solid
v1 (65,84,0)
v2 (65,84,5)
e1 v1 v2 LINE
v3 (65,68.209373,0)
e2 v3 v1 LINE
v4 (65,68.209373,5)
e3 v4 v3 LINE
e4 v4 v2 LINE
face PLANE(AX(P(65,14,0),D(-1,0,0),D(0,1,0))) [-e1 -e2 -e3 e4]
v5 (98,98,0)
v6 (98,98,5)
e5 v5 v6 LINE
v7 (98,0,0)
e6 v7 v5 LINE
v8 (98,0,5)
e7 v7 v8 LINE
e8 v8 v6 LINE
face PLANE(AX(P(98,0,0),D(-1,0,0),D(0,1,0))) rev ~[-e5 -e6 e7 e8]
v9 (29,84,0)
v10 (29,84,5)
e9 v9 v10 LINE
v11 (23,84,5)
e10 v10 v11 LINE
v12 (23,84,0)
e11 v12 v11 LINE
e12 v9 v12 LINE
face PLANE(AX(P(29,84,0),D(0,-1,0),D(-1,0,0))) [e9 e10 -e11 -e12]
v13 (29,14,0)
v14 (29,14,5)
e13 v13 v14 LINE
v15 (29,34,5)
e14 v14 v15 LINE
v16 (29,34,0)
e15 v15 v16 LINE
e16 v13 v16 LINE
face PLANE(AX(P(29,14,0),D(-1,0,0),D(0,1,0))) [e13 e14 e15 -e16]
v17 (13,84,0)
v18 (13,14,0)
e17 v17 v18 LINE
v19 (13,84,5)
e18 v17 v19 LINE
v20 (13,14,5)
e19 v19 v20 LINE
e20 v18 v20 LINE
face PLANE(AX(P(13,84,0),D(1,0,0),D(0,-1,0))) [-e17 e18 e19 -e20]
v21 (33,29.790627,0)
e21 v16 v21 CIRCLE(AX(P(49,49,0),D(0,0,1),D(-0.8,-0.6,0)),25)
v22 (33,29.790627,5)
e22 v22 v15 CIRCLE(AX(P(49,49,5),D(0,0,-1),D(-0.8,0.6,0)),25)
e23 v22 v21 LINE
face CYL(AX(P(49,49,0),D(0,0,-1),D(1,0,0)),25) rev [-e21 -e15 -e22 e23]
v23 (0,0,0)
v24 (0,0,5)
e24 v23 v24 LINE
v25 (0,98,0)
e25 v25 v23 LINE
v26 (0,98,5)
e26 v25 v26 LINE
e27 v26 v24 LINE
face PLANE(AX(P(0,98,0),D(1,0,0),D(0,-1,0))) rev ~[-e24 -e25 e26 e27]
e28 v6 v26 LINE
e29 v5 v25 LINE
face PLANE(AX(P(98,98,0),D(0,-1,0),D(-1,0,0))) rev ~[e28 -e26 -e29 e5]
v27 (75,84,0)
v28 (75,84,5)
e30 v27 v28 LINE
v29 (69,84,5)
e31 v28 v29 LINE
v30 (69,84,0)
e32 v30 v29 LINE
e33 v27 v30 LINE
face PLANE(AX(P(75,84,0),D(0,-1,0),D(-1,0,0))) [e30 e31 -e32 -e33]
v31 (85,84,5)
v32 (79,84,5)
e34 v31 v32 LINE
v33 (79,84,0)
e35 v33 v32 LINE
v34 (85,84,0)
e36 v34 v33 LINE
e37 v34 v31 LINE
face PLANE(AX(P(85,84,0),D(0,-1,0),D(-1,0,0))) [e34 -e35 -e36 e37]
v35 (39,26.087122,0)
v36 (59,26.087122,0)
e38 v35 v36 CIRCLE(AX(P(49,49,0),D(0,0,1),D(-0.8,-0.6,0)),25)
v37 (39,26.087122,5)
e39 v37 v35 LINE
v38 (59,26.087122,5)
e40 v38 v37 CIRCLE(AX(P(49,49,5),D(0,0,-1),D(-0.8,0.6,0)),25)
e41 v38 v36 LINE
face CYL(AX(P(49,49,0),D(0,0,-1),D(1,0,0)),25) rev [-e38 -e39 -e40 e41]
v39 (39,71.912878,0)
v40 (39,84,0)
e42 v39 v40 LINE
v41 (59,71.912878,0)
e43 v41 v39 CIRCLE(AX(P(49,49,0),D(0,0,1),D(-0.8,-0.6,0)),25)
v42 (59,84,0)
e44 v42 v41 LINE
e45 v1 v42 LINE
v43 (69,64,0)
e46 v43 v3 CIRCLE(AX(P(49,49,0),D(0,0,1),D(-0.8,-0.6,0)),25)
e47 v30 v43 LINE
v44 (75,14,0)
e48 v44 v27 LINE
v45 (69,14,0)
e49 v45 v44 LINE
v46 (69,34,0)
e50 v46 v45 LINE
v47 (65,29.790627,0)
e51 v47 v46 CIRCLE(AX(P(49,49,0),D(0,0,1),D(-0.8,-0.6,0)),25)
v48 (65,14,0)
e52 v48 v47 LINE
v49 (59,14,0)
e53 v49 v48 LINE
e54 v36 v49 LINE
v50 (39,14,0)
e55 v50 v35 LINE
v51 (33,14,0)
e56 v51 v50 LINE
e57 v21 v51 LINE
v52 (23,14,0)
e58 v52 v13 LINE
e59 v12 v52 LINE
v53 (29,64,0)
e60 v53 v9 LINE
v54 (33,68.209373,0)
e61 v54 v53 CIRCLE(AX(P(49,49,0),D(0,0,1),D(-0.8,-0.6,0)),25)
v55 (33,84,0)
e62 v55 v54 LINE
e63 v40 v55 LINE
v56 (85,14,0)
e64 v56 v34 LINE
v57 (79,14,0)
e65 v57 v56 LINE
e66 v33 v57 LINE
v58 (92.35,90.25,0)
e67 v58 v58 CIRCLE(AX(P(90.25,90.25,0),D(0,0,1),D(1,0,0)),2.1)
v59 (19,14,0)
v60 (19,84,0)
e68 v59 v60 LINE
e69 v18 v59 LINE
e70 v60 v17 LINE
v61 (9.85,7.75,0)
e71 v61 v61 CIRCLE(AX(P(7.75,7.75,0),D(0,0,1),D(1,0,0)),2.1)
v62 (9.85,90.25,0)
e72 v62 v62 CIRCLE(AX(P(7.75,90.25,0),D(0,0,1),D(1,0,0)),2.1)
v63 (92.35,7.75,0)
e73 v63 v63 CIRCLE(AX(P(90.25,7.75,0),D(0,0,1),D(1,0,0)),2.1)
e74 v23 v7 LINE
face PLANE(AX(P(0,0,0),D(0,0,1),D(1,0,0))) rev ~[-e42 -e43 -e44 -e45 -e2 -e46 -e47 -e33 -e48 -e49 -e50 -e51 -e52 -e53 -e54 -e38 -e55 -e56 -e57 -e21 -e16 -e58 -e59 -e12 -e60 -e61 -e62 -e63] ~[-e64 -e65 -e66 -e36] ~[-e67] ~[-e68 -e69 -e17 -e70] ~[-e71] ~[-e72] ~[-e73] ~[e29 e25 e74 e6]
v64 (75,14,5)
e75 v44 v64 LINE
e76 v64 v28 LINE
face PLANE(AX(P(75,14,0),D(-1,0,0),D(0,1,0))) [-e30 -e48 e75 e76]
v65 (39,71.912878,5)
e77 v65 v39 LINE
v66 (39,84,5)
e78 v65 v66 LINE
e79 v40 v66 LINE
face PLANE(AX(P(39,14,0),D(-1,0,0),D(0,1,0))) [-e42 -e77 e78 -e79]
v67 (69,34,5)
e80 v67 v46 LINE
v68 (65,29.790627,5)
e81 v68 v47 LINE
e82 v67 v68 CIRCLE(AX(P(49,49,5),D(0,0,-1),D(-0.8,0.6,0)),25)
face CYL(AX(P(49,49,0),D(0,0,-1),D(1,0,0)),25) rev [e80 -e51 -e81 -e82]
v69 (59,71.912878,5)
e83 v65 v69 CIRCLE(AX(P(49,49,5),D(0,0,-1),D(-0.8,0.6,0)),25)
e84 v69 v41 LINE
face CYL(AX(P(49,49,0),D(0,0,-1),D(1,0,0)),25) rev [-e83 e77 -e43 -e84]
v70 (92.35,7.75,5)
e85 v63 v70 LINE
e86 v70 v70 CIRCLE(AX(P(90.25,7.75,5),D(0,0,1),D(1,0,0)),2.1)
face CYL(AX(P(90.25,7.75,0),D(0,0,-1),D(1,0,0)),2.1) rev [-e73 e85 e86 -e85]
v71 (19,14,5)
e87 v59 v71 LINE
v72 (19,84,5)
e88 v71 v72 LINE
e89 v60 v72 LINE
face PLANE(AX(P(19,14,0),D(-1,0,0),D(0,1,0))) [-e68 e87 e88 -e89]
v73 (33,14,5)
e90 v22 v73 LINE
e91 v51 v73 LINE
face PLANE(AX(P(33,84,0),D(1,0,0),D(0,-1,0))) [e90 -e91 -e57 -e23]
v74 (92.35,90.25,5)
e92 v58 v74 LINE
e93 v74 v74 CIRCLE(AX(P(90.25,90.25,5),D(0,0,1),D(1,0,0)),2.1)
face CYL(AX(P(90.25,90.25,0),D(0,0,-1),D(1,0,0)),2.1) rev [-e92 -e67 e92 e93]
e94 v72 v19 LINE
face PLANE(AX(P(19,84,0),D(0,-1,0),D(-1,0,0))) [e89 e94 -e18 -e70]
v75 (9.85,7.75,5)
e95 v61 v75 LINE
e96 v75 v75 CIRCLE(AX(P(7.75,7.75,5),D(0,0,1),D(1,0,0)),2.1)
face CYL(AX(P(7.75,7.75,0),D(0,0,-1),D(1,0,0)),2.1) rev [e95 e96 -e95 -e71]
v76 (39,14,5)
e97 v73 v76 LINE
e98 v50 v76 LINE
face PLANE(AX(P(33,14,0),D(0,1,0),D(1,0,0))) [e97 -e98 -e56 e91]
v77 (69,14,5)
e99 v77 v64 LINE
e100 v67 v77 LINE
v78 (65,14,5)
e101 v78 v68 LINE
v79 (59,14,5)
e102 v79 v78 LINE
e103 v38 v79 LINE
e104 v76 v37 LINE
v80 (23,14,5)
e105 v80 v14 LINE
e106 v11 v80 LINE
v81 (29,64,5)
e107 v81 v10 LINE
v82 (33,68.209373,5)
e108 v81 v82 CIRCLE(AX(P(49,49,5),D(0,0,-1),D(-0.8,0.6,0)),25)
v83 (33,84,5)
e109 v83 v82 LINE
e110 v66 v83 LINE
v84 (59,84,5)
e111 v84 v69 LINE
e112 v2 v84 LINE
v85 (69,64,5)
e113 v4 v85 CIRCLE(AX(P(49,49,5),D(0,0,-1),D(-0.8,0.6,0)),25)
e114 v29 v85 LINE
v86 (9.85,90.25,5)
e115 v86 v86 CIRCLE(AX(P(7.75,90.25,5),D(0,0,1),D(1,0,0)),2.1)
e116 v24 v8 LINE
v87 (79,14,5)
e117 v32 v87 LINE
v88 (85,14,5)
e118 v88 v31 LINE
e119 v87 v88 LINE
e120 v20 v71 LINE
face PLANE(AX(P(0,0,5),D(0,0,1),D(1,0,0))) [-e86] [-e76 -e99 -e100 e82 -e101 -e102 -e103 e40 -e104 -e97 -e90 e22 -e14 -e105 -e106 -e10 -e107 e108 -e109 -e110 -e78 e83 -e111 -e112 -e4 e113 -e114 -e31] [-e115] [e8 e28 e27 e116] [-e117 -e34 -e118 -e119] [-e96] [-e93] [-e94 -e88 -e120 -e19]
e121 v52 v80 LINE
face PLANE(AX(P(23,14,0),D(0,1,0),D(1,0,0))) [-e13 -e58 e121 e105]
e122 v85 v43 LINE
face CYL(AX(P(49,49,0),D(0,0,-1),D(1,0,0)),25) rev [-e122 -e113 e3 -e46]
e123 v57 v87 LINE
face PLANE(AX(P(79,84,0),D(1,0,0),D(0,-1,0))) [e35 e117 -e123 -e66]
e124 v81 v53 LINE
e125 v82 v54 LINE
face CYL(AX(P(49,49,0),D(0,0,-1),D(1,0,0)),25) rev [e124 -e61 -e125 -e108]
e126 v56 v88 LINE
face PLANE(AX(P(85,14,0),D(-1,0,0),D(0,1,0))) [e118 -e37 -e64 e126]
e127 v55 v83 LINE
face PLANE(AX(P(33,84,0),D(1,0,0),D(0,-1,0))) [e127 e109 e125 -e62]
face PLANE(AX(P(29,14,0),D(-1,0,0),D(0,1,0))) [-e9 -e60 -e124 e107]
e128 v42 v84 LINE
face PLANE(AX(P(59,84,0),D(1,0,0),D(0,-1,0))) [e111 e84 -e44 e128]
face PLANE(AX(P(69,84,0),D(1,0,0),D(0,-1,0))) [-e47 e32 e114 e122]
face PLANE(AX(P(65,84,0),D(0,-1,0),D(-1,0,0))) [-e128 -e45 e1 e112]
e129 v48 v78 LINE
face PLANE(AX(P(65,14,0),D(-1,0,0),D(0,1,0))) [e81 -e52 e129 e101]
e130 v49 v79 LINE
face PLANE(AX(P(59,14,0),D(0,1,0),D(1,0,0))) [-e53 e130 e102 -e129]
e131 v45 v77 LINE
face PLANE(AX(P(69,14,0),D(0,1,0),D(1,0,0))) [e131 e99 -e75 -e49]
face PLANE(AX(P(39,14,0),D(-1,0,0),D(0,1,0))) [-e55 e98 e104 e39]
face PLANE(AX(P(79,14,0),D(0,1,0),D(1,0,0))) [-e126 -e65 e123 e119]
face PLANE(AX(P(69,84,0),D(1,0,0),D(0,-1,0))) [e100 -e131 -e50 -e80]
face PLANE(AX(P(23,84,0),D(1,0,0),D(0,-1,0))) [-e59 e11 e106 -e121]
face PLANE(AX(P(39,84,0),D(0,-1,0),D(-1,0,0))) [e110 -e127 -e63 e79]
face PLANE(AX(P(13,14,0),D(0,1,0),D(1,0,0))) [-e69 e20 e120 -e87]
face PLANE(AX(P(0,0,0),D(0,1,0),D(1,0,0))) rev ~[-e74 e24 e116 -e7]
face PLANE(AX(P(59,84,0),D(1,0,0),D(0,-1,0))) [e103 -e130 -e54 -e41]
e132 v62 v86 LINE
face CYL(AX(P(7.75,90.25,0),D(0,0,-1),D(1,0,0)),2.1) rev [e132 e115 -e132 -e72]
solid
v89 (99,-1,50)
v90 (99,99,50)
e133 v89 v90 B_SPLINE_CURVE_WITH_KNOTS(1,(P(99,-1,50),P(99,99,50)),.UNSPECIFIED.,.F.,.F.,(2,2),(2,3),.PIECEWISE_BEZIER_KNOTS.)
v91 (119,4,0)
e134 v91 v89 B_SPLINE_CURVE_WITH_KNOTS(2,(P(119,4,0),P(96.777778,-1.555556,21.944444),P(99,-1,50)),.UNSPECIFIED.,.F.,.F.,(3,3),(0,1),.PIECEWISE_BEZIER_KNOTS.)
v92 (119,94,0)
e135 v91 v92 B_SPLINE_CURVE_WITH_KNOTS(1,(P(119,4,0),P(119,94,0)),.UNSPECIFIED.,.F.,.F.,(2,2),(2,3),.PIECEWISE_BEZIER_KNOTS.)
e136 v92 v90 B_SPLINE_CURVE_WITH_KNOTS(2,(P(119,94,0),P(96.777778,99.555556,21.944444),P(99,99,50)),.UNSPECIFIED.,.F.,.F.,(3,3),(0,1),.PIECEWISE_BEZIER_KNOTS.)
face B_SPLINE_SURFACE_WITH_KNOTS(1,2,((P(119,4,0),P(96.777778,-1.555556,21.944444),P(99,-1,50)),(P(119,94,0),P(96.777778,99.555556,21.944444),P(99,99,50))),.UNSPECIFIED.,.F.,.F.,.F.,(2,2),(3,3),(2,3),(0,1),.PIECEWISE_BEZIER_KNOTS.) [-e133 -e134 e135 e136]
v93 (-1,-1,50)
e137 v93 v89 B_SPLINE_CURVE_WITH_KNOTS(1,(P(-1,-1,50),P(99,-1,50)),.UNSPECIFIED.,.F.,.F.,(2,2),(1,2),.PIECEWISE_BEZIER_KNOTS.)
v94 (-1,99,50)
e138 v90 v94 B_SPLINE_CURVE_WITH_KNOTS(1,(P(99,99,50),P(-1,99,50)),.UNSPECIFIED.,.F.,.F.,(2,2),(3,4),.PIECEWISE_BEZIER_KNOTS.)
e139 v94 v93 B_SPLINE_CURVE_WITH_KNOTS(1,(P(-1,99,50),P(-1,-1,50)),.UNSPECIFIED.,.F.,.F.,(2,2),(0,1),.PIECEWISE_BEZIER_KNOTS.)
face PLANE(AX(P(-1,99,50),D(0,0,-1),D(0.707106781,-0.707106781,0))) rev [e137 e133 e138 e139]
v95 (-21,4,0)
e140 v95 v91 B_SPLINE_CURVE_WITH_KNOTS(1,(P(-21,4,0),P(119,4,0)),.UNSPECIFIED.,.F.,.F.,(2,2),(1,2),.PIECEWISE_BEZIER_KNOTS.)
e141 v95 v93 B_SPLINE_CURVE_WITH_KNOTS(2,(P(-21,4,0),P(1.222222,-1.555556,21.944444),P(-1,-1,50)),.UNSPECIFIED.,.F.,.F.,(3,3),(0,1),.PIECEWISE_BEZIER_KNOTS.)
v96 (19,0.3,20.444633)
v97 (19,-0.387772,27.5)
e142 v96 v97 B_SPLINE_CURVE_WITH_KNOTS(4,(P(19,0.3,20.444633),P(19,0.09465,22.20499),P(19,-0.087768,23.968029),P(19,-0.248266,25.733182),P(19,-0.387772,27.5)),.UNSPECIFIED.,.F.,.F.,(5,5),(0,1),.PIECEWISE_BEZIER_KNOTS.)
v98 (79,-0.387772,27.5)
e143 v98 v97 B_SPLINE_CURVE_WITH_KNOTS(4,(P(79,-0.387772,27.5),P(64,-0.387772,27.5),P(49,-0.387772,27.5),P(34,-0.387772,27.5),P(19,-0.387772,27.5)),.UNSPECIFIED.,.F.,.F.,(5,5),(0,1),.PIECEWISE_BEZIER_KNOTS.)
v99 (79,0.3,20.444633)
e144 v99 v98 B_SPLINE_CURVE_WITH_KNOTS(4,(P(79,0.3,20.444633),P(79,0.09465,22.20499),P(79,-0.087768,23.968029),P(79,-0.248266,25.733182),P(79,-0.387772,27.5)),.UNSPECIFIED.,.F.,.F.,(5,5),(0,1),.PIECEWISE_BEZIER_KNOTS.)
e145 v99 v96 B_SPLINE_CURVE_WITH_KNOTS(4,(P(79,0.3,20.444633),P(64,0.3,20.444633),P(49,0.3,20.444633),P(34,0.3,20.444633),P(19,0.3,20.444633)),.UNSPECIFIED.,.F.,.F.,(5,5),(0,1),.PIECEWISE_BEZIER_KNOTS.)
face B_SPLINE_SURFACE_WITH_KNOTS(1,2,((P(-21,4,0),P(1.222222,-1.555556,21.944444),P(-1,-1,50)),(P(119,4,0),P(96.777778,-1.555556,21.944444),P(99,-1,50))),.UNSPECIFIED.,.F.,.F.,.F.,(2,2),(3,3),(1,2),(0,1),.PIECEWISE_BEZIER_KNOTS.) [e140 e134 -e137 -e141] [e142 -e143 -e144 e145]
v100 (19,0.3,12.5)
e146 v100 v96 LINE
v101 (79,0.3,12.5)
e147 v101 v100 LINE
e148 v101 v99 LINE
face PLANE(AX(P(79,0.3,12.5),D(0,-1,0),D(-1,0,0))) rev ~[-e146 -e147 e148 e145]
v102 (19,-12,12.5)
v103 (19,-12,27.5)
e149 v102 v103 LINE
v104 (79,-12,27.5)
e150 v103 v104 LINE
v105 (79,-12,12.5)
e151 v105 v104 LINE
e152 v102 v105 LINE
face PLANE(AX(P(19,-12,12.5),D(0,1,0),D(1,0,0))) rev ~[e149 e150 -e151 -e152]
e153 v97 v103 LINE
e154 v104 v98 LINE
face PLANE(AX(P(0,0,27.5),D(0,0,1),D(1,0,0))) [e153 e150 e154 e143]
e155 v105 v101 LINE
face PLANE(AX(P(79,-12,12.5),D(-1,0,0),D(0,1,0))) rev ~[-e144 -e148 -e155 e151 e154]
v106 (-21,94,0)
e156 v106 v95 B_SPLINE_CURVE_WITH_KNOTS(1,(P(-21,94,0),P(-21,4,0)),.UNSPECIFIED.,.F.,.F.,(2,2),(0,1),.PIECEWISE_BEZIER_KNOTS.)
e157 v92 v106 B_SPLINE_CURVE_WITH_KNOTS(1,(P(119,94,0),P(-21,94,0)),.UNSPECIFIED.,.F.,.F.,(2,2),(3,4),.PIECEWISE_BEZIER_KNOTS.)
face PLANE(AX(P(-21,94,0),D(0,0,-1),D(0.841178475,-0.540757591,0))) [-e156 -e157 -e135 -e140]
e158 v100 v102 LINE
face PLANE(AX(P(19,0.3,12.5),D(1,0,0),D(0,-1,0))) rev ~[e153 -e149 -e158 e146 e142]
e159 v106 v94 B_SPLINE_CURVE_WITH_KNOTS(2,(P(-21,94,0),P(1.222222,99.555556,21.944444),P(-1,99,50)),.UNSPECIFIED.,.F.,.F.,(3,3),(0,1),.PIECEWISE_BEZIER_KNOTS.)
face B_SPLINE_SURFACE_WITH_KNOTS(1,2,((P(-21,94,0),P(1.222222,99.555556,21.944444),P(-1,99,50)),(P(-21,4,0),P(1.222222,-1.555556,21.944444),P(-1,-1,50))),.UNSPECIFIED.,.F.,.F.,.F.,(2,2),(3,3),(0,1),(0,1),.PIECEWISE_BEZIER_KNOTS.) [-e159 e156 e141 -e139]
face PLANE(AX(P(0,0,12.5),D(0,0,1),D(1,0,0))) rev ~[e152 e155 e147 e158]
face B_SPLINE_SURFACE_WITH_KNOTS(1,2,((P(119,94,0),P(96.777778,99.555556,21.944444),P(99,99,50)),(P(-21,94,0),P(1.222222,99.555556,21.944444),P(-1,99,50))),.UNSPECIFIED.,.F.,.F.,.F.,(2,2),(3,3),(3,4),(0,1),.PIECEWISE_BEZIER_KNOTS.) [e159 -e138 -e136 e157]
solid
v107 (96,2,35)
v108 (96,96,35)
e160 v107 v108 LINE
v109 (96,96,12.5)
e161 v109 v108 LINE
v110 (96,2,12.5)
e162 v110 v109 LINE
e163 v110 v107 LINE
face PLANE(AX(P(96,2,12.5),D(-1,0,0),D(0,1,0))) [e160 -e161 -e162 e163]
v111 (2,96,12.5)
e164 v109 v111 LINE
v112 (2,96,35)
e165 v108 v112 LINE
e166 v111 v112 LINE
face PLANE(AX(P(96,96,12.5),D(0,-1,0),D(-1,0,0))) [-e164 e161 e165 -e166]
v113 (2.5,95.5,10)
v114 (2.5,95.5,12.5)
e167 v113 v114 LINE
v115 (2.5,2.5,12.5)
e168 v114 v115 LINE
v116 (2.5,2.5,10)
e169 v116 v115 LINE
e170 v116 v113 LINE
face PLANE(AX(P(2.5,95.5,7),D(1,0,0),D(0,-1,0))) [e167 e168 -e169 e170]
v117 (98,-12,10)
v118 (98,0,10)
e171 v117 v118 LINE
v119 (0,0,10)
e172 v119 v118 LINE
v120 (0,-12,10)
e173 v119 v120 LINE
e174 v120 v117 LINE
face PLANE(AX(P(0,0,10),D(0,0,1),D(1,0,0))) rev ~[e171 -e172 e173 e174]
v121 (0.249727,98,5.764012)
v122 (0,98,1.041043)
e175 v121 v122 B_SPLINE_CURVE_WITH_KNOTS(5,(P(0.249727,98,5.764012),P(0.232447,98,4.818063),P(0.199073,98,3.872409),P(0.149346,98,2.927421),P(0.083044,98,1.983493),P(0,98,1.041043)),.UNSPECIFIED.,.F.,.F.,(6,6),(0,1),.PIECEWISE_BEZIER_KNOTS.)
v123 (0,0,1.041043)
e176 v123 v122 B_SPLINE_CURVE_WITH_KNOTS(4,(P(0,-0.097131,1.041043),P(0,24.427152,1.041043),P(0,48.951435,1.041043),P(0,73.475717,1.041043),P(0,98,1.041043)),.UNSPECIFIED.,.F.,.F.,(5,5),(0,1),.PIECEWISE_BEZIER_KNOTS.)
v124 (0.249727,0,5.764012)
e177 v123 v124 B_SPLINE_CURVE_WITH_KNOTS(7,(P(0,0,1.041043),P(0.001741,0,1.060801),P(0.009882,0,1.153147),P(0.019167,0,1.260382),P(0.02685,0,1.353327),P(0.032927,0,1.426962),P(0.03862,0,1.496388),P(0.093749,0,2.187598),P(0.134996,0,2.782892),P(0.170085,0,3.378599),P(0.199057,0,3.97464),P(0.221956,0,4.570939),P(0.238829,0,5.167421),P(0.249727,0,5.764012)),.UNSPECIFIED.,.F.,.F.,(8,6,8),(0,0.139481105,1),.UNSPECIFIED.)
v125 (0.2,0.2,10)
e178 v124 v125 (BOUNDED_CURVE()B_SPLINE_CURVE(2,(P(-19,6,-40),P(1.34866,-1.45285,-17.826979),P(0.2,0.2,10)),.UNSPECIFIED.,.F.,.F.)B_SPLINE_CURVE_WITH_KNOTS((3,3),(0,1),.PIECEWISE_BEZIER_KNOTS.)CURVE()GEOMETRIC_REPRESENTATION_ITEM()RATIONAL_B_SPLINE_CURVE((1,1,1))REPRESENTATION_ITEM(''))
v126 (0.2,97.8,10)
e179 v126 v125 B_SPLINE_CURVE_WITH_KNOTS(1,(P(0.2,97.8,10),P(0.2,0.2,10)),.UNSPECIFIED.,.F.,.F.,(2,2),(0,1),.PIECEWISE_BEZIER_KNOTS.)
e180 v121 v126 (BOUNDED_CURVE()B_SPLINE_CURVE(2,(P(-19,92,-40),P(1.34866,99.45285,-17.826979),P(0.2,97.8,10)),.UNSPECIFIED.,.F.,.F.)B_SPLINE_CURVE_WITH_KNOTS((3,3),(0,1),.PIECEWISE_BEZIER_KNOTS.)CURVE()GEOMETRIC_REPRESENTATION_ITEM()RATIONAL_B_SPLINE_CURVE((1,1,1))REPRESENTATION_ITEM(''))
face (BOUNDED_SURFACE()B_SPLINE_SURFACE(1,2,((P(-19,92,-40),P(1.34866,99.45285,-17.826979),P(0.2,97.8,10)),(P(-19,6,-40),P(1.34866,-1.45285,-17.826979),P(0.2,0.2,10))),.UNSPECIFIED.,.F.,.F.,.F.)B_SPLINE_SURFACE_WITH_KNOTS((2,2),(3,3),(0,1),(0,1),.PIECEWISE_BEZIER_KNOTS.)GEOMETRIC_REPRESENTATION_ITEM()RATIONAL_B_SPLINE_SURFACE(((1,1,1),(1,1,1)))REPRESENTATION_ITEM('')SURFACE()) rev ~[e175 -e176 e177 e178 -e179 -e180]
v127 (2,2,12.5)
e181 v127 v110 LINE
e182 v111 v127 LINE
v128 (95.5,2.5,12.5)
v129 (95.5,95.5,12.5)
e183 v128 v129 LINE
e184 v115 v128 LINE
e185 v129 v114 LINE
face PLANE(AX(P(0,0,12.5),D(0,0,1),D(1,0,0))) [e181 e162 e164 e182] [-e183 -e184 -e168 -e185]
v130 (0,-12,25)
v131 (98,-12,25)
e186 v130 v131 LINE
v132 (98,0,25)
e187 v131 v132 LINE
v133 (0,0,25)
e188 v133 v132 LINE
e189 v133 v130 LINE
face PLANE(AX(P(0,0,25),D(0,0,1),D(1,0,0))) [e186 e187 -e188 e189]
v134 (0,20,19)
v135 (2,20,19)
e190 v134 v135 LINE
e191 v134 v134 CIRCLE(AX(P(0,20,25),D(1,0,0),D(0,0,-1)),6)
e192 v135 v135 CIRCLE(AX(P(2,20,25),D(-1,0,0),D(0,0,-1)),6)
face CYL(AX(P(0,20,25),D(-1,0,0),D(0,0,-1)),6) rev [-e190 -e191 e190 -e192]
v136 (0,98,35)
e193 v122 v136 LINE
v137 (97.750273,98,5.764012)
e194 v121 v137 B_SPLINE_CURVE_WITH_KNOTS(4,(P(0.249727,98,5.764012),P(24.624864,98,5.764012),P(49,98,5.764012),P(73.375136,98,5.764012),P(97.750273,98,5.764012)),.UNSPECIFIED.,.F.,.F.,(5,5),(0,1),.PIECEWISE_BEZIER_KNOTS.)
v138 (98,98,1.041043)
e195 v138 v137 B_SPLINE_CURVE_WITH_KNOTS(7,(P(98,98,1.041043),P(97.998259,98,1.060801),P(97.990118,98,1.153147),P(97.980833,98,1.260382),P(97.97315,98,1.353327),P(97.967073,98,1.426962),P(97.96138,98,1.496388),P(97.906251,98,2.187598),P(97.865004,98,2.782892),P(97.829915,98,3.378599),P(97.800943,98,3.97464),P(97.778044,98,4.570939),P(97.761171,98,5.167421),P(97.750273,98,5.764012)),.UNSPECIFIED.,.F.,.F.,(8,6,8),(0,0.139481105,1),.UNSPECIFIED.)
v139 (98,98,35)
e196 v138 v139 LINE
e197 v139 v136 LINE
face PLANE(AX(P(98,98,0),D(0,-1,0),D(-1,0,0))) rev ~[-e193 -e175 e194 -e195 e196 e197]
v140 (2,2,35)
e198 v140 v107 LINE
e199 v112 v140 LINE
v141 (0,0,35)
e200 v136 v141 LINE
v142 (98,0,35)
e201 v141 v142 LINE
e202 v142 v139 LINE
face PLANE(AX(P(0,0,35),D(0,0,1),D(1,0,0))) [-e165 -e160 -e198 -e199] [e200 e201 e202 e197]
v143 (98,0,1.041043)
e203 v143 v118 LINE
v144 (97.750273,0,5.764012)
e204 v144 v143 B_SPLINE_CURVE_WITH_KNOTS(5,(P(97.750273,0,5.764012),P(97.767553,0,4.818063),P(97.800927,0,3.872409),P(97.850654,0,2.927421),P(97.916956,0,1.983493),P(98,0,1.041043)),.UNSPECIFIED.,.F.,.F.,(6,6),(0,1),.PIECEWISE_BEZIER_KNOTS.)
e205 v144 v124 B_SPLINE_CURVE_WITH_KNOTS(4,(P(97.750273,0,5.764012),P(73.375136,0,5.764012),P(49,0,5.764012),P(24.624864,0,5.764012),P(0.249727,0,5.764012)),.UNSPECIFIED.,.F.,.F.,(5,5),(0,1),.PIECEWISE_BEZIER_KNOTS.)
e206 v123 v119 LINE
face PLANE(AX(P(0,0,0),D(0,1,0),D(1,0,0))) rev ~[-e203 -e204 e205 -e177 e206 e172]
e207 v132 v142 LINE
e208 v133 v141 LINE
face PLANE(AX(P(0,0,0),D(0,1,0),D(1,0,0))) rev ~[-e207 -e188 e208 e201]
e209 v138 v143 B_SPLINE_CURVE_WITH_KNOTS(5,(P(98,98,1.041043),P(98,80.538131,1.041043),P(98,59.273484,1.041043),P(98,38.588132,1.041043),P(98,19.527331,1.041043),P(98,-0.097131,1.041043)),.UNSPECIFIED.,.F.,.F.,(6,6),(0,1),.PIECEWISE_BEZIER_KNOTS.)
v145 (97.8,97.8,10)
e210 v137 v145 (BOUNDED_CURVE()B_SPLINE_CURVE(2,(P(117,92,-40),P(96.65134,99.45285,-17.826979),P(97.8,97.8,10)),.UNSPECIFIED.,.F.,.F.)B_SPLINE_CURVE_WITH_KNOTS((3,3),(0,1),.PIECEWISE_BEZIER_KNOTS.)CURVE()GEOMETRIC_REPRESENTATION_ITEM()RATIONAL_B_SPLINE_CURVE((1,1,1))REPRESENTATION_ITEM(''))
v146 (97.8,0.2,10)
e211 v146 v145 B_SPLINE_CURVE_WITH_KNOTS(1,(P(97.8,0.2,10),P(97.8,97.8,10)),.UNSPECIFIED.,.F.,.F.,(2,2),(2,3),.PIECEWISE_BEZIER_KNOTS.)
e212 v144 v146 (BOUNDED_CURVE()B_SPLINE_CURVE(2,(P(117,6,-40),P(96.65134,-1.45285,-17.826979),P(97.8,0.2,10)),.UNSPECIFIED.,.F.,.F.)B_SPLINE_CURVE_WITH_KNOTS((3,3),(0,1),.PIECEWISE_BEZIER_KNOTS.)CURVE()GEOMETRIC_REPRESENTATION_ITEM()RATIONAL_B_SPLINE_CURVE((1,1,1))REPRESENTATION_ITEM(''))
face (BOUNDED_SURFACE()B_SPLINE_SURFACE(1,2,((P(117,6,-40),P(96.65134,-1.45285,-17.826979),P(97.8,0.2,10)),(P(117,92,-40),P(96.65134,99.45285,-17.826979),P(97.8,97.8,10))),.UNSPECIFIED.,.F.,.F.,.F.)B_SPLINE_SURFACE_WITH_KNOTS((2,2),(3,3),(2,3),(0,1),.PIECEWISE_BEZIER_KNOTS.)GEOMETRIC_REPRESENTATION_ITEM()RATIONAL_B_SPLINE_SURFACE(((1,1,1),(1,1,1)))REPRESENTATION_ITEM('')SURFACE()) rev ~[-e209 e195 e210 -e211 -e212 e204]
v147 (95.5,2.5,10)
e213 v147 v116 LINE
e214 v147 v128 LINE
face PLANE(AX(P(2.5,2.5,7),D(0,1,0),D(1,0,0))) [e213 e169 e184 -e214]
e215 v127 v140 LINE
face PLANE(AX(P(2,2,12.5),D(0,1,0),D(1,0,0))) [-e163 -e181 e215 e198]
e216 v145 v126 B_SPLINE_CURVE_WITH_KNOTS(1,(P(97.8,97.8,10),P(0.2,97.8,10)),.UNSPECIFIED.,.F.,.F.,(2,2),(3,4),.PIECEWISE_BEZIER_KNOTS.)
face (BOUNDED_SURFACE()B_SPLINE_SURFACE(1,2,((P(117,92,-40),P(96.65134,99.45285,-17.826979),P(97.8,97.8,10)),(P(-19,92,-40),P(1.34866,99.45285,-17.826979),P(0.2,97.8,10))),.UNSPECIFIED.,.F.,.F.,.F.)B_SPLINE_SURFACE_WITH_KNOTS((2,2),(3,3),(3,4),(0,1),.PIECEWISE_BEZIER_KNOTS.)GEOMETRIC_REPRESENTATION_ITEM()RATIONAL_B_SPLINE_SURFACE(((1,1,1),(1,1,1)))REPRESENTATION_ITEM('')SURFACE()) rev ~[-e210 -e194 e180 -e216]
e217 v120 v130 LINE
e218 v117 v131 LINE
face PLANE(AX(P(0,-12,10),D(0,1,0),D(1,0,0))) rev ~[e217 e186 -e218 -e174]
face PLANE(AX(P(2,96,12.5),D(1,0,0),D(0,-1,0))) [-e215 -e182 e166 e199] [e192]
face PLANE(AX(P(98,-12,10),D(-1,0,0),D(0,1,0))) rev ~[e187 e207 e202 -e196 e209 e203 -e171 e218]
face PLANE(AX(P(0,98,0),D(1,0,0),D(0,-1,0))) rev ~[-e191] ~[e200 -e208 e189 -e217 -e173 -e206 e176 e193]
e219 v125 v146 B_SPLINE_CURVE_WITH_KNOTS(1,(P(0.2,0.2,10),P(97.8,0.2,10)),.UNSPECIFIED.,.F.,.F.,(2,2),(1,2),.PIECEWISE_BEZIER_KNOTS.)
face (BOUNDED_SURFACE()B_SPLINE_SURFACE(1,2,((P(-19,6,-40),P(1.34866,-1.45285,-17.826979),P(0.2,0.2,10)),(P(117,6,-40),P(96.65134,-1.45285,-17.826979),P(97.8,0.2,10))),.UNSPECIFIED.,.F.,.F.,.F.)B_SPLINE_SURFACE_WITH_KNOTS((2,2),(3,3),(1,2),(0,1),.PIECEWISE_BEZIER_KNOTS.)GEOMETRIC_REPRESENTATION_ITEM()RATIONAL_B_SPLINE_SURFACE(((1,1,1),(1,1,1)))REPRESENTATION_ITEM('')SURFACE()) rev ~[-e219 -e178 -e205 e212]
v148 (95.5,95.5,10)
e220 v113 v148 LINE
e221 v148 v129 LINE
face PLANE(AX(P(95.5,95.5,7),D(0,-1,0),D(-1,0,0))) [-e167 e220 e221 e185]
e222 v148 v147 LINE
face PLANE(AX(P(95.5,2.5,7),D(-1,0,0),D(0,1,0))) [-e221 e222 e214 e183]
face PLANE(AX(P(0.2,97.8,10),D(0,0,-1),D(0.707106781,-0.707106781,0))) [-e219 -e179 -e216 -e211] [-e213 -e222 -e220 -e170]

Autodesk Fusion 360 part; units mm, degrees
sketch "Sketch1" plane through (0, 0, 0) normal (0, 0, 1) x (1, 0, 0) in component "Body Tube"
  line L0 (0, 0) -> (98, 0)
  line L1 (98, 0) -> (98, 98)
  line L2 (98, 98) -> (0, 98)
  line L3 (0, 98) -> (0, 0)
extrude "Extrude1" add sketch "Sketch1" along normal blind 35 makes body 1 in component "Body Tube"
sketch "Sketch2" plane through (0, 0, 0) normal (0, 0, 1) x (1, 0, 0) in component "Body Tube"
  line L0 (2, 2) -> (96, 2)
  line L1 (96, 2) -> (96, 96)
  line L2 (96, 96) -> (2, 96)
  line L3 (2, 96) -> (2, 2)
extrude "Extrude2" cut sketch "Sketch2" along normal blind 7 bodies 1 in component "Body Tube"
ref_plane "WorkPlane1" through (0, 0, 7) normal (0, 0, 1) x (1, 0, 0) in component "Body Tube"
sketch "Sketch3" plane through (0, 0, 7) normal (0, 0, 1) x (1, 0, 0) in component "Body Tube"
  line L0 (2.5, 2.5) -> (95.5, 2.5)
  line L1 (95.5, 2.5) -> (95.5, 95.5)
  line L2 (95.5, 95.5) -> (2.5, 95.5)
  line L3 (2.5, 95.5) -> (2.5, 2.5)
extrude "Extrude3" cut sketch "Sketch3" along normal blind 5.5 bodies 1 in component "Body Tube"
ref_plane "WorkPlane2" through (0, 0, 12.5) normal (0, 0, 1) x (1, 0, 0) in component "Body Tube"
sketch "Sketch4" plane through (0, 0, 12.5) normal (0, 0, 1) x (1, 0, 0) in component "Body Tube"
  line L0 (2, 2) -> (96, 2)
  line L1 (96, 2) -> (96, 96)
  line L2 (96, 96) -> (2, 96)
  line L3 (2, 96) -> (2, 2)
extrude "Extrude4" cut sketch "Sketch4" along normal blind 22.5 bodies 1 in component "Body Tube"
sketch "Sketch5" plane through (0, 0, 0) normal (1, 0, 0) x (0, 0, -1) in component "Body Tube"
  circle A0 centre (-25, 20) radius 6
extrude "Extrude5" cut sketch "Sketch5" along normal mid plane 6 bodies 1 in component "Body Tube"
ref_plane "WorkPlane3" through (0, 0, 10) normal (0, 0, 1) x (1, 0, 0) in component "Body Tube"
sketch "Sketch6" plane through (0, 0, 10) normal (0, 0, 1) x (1, 0, 0) in component "Body Tube"
  line L0 (0, -12) -> (98, -12)
  line L1 (98, -12) -> (98, 0.3)
  line L2 (98, 0.3) -> (0, 0.3)
  line L3 (0, 0.3) -> (0, -12)
extrude "Extrude6" add sketch "Sketch6" along normal blind 15 bodies 1 in component "Body Tube"
ref_plane "WorkPlane1" through (0, 0, 40) normal (0, 0, 1) x (1, 0, 0) in component "Hood"
ref_plane "WorkPlane2" through (0, 0, 50) normal (0, 0, 1) x (1, 0, 0) in component "Hood"
sketch "Sketch1 (2)" plane through (0, 0, 0) normal (0, 0, 1) x (1, 0, 0) in component "Hood"
  line L0 (-21, 4) -> (119, 4)
  line L1 (119, 4) -> (119, 94)
  line L2 (119, 94) -> (-21, 94)
  line L3 (-21, 94) -> (-21, 4)
sketch "Sketch2 (2)" plane through (0, 0, 40) normal (0, 0, 1) x (1, 0, 0) in component "Hood"
  line L0 (-1, -1) -> (99, -1)
  line L1 (99, -1) -> (99, 99)
  line L2 (99, 99) -> (-1, 99)
  line L3 (-1, 99) -> (-1, -1)
sketch "Sketch3 (2)" plane through (0, 0, 50) normal (0, 0, 1) x (1, 0, 0) in component "Hood"
  line L0 (-1, -1) -> (99, -1)
  line L1 (99, -1) -> (99, 99)
  line L2 (99, 99) -> (-1, 99)
  line L3 (-1, 99) -> (-1, -1)
loft "Loft1" add profiles "Sketch1 (2)", "Sketch2 (2)", "Sketch3 (2)" section 1 section 2 section 3 separate body makes body 2 in component "Hood"
sketch "Sketch4 (2)" plane through (0, 0, 0) normal (0, 0, 1) x (1, 0, 0) in component "Hood"
  line L0 (-19, 6) -> (117, 6)
  line L1 (117, 6) -> (117, 92)
  line L2 (117, 92) -> (-19, 92)
  line L3 (-19, 92) -> (-19, 6)
sketch "Sketch5 (2)" plane through (0, 0, 40) normal (0, 0, 1) x (1, 0, 0) in component "Hood"
  line L0 (-0.1, -0.1) -> (98.1, -0.1)
  line L1 (98.1, -0.1) -> (98.1, 98.1)
  line L2 (98.1, 98.1) -> (-0.1, 98.1)
  line L3 (-0.1, 98.1) -> (-0.1, -0.1)
sketch "Sketch6 (2)" plane through (0, 0, 50) normal (0, 0, 1) x (1, 0, 0) in component "Hood"
  line L0 (0.2, 0.2) -> (97.8, 0.2)
  line L1 (97.8, 0.2) -> (97.8, 97.8)
  line L2 (97.8, 97.8) -> (0.2, 97.8)
  line L3 (0.2, 97.8) -> (0.2, 0.2)
loft "Loft1'" cut profiles "Sketch4 (2)", "Sketch5 (2)", "Sketch6 (2)" section 1 sketch seen with x (1, 0, 0) y (0, 1, 0) z (0, 0, 1) at (0, 0, -40) section 2 sketch seen with x (1, 0, 0) y (0, 1, 0) z (0, 0, 1) at (0, 0, -40) section 3 sketch seen with x (1, 0, 0) y (0, 1, 0) z (0, 0, 1) at (0, 0, -40) bodies 1 in component "Body Tube"
ref_plane "WorkPlane3" through (0, 0, 12.5) normal (0, 0, 1) x (1, 0, 0) in component "Hood"
sketch "Sketch7" plane through (0, 0, 12.5) normal (0, 0, 1) x (1, 0, 0) in component "Hood"
  line L0 (19, -12) -> (79, -12)
  line L1 (79, -12) -> (79, 0.3)
  line L2 (79, 0.3) -> (19, 0.3)
  line L3 (19, 0.3) -> (19, -12)
extrude "Extrude1'" add sketch "Sketch7" along normal blind 15 bodies 2 in component "Hood"
sketch "Sketch1 (3)" plane through (0, 0, 0) normal (0, 0, 1) x (1, 0, 0) in component "Back Plate"
  line L0 (0, 0) -> (98, 0)
  line L1 (98, 0) -> (98, 98)
  line L2 (98, 98) -> (0, 98)
  line L3 (0, 98) -> (0, 0)
extrude "Extrude1''" add sketch "Sketch1 (3)" along normal blind 5 separate body makes body 3 in component "Back Plate"
sketch "Sketch2 (3)" plane through (0, 0, 0) normal (0, 0, 1) x (1, 0, 0) in component "Back Plate"
  circle A0 centre (7.75, 7.75) radius 2.1
extrude "Extrude2'" cut sketch "Sketch2 (3)" along normal blind 5 bodies 3 in component "Back Plate"
sketch "Sketch3 (3)" plane through (0, 0, 0) normal (0, 0, 1) x (1, 0, 0) in component "Back Plate"
  circle A0 centre (7.75, 90.25) radius 2.1
extrude "Extrude3'" cut sketch "Sketch3 (3)" along normal blind 5 bodies 3 in component "Back Plate"
sketch "Sketch4 (3)" plane through (0, 0, 0) normal (0, 0, 1) x (1, 0, 0) in component "Back Plate"
  circle A0 centre (90.25, 7.75) radius 2.1
extrude "Extrude4'" cut sketch "Sketch4 (3)" along normal blind 5 bodies 3 in component "Back Plate"
sketch "Sketch5 (3)" plane through (0, 0, 0) normal (0, 0, 1) x (1, 0, 0) in component "Back Plate"
  circle A0 centre (90.25, 90.25) radius 2.1
extrude "Extrude5'" cut sketch "Sketch5 (3)" along normal blind 5 bodies 3 in component "Back Plate"
sketch "Sketch6 (3)" plane through (0, 0, 0) normal (0, 0, 1) x (1, 0, 0) in component "Back Plate"
  circle A0 centre (49, 49) radius 25
extrude "Extrude6'" cut sketch "Sketch6 (3)" along normal blind 5 bodies 3 in component "Back Plate"
sketch "Sketch7 (2)" plane through (0, 0, 0) normal (0, 0, 1) x (1, 0, 0) in component "Back Plate"
  line L0 (13, 14) -> (19, 14)
  line L1 (19, 14) -> (19, 84)
  line L2 (19, 84) -> (13, 84)
  line L3 (13, 84) -> (13, 14)
extrude "Extrude7" cut sketch "Sketch7 (2)" along normal blind 5 bodies 3 in component "Back Plate"
sketch "Sketch8" plane through (0, 0, 0) normal (0, 0, 1) x (1, 0, 0) in component "Back Plate"
  line L0 (23, 14) -> (29, 14)
  line L1 (29, 14) -> (29, 84)
  line L2 (29, 84) -> (23, 84)
  line L3 (23, 84) -> (23, 14)
extrude "Extrude8" cut sketch "Sketch8" along normal blind 5 bodies 3 in component "Back Plate"
sketch "Sketch9" plane through (0, 0, 0) normal (0, 0, 1) x (1, 0, 0) in component "Back Plate"
  line L0 (33, 14) -> (39, 14)
  line L1 (39, 14) -> (39, 84)
  line L2 (39, 84) -> (33, 84)
  line L3 (33, 84) -> (33, 14)
extrude "Extrude9" cut sketch "Sketch9" along normal blind 5 bodies 3 in component "Back Plate"
sketch "Sketch10" plane through (0, 0, 0) normal (0, 0, 1) x (1, 0, 0) in component "Back Plate"
  line L0 (59, 14) -> (65, 14)
  line L1 (65, 14) -> (65, 84)
  line L2 (65, 84) -> (59, 84)
  line L3 (59, 84) -> (59, 14)
extrude "Extrude10" cut sketch "Sketch10" along normal blind 5 bodies 3 in component "Back Plate"
sketch "Sketch11" plane through (0, 0, 0) normal (0, 0, 1) x (1, 0, 0) in component "Back Plate"
  line L0 (69, 14) -> (75, 14)
  line L1 (75, 14) -> (75, 84)
  line L2 (75, 84) -> (69, 84)
  line L3 (69, 84) -> (69, 14)
extrude "Extrude11" cut sketch "Sketch11" along normal blind 5 bodies 3 in component "Back Plate"
sketch "Sketch12" plane through (0, 0, 0) normal (0, 0, 1) x (1, 0, 0) in component "Back Plate"
  line L0 (79, 14) -> (85, 14)
  line L1 (85, 14) -> (85, 84)
  line L2 (85, 84) -> (79, 84)
  line L3 (79, 84) -> (79, 14)
extrude "Extrude12" cut sketch "Sketch12" along normal blind 5 bodies 3 in component "Back Plate"
component "Body Tube" placed x (1, 0, 0) y (0, 1, 0) z (0, 0, 1) at (0, 0, 0)
component "Hood" placed x (1, 0, 0) y (0, 1, 0) z (0, 0, 1) at (0, 0, 0)
component "Back Plate" placed x (1, 0, 0) y (0, 1, 0) z (0, 0, 1) at (0, 0, 0)
